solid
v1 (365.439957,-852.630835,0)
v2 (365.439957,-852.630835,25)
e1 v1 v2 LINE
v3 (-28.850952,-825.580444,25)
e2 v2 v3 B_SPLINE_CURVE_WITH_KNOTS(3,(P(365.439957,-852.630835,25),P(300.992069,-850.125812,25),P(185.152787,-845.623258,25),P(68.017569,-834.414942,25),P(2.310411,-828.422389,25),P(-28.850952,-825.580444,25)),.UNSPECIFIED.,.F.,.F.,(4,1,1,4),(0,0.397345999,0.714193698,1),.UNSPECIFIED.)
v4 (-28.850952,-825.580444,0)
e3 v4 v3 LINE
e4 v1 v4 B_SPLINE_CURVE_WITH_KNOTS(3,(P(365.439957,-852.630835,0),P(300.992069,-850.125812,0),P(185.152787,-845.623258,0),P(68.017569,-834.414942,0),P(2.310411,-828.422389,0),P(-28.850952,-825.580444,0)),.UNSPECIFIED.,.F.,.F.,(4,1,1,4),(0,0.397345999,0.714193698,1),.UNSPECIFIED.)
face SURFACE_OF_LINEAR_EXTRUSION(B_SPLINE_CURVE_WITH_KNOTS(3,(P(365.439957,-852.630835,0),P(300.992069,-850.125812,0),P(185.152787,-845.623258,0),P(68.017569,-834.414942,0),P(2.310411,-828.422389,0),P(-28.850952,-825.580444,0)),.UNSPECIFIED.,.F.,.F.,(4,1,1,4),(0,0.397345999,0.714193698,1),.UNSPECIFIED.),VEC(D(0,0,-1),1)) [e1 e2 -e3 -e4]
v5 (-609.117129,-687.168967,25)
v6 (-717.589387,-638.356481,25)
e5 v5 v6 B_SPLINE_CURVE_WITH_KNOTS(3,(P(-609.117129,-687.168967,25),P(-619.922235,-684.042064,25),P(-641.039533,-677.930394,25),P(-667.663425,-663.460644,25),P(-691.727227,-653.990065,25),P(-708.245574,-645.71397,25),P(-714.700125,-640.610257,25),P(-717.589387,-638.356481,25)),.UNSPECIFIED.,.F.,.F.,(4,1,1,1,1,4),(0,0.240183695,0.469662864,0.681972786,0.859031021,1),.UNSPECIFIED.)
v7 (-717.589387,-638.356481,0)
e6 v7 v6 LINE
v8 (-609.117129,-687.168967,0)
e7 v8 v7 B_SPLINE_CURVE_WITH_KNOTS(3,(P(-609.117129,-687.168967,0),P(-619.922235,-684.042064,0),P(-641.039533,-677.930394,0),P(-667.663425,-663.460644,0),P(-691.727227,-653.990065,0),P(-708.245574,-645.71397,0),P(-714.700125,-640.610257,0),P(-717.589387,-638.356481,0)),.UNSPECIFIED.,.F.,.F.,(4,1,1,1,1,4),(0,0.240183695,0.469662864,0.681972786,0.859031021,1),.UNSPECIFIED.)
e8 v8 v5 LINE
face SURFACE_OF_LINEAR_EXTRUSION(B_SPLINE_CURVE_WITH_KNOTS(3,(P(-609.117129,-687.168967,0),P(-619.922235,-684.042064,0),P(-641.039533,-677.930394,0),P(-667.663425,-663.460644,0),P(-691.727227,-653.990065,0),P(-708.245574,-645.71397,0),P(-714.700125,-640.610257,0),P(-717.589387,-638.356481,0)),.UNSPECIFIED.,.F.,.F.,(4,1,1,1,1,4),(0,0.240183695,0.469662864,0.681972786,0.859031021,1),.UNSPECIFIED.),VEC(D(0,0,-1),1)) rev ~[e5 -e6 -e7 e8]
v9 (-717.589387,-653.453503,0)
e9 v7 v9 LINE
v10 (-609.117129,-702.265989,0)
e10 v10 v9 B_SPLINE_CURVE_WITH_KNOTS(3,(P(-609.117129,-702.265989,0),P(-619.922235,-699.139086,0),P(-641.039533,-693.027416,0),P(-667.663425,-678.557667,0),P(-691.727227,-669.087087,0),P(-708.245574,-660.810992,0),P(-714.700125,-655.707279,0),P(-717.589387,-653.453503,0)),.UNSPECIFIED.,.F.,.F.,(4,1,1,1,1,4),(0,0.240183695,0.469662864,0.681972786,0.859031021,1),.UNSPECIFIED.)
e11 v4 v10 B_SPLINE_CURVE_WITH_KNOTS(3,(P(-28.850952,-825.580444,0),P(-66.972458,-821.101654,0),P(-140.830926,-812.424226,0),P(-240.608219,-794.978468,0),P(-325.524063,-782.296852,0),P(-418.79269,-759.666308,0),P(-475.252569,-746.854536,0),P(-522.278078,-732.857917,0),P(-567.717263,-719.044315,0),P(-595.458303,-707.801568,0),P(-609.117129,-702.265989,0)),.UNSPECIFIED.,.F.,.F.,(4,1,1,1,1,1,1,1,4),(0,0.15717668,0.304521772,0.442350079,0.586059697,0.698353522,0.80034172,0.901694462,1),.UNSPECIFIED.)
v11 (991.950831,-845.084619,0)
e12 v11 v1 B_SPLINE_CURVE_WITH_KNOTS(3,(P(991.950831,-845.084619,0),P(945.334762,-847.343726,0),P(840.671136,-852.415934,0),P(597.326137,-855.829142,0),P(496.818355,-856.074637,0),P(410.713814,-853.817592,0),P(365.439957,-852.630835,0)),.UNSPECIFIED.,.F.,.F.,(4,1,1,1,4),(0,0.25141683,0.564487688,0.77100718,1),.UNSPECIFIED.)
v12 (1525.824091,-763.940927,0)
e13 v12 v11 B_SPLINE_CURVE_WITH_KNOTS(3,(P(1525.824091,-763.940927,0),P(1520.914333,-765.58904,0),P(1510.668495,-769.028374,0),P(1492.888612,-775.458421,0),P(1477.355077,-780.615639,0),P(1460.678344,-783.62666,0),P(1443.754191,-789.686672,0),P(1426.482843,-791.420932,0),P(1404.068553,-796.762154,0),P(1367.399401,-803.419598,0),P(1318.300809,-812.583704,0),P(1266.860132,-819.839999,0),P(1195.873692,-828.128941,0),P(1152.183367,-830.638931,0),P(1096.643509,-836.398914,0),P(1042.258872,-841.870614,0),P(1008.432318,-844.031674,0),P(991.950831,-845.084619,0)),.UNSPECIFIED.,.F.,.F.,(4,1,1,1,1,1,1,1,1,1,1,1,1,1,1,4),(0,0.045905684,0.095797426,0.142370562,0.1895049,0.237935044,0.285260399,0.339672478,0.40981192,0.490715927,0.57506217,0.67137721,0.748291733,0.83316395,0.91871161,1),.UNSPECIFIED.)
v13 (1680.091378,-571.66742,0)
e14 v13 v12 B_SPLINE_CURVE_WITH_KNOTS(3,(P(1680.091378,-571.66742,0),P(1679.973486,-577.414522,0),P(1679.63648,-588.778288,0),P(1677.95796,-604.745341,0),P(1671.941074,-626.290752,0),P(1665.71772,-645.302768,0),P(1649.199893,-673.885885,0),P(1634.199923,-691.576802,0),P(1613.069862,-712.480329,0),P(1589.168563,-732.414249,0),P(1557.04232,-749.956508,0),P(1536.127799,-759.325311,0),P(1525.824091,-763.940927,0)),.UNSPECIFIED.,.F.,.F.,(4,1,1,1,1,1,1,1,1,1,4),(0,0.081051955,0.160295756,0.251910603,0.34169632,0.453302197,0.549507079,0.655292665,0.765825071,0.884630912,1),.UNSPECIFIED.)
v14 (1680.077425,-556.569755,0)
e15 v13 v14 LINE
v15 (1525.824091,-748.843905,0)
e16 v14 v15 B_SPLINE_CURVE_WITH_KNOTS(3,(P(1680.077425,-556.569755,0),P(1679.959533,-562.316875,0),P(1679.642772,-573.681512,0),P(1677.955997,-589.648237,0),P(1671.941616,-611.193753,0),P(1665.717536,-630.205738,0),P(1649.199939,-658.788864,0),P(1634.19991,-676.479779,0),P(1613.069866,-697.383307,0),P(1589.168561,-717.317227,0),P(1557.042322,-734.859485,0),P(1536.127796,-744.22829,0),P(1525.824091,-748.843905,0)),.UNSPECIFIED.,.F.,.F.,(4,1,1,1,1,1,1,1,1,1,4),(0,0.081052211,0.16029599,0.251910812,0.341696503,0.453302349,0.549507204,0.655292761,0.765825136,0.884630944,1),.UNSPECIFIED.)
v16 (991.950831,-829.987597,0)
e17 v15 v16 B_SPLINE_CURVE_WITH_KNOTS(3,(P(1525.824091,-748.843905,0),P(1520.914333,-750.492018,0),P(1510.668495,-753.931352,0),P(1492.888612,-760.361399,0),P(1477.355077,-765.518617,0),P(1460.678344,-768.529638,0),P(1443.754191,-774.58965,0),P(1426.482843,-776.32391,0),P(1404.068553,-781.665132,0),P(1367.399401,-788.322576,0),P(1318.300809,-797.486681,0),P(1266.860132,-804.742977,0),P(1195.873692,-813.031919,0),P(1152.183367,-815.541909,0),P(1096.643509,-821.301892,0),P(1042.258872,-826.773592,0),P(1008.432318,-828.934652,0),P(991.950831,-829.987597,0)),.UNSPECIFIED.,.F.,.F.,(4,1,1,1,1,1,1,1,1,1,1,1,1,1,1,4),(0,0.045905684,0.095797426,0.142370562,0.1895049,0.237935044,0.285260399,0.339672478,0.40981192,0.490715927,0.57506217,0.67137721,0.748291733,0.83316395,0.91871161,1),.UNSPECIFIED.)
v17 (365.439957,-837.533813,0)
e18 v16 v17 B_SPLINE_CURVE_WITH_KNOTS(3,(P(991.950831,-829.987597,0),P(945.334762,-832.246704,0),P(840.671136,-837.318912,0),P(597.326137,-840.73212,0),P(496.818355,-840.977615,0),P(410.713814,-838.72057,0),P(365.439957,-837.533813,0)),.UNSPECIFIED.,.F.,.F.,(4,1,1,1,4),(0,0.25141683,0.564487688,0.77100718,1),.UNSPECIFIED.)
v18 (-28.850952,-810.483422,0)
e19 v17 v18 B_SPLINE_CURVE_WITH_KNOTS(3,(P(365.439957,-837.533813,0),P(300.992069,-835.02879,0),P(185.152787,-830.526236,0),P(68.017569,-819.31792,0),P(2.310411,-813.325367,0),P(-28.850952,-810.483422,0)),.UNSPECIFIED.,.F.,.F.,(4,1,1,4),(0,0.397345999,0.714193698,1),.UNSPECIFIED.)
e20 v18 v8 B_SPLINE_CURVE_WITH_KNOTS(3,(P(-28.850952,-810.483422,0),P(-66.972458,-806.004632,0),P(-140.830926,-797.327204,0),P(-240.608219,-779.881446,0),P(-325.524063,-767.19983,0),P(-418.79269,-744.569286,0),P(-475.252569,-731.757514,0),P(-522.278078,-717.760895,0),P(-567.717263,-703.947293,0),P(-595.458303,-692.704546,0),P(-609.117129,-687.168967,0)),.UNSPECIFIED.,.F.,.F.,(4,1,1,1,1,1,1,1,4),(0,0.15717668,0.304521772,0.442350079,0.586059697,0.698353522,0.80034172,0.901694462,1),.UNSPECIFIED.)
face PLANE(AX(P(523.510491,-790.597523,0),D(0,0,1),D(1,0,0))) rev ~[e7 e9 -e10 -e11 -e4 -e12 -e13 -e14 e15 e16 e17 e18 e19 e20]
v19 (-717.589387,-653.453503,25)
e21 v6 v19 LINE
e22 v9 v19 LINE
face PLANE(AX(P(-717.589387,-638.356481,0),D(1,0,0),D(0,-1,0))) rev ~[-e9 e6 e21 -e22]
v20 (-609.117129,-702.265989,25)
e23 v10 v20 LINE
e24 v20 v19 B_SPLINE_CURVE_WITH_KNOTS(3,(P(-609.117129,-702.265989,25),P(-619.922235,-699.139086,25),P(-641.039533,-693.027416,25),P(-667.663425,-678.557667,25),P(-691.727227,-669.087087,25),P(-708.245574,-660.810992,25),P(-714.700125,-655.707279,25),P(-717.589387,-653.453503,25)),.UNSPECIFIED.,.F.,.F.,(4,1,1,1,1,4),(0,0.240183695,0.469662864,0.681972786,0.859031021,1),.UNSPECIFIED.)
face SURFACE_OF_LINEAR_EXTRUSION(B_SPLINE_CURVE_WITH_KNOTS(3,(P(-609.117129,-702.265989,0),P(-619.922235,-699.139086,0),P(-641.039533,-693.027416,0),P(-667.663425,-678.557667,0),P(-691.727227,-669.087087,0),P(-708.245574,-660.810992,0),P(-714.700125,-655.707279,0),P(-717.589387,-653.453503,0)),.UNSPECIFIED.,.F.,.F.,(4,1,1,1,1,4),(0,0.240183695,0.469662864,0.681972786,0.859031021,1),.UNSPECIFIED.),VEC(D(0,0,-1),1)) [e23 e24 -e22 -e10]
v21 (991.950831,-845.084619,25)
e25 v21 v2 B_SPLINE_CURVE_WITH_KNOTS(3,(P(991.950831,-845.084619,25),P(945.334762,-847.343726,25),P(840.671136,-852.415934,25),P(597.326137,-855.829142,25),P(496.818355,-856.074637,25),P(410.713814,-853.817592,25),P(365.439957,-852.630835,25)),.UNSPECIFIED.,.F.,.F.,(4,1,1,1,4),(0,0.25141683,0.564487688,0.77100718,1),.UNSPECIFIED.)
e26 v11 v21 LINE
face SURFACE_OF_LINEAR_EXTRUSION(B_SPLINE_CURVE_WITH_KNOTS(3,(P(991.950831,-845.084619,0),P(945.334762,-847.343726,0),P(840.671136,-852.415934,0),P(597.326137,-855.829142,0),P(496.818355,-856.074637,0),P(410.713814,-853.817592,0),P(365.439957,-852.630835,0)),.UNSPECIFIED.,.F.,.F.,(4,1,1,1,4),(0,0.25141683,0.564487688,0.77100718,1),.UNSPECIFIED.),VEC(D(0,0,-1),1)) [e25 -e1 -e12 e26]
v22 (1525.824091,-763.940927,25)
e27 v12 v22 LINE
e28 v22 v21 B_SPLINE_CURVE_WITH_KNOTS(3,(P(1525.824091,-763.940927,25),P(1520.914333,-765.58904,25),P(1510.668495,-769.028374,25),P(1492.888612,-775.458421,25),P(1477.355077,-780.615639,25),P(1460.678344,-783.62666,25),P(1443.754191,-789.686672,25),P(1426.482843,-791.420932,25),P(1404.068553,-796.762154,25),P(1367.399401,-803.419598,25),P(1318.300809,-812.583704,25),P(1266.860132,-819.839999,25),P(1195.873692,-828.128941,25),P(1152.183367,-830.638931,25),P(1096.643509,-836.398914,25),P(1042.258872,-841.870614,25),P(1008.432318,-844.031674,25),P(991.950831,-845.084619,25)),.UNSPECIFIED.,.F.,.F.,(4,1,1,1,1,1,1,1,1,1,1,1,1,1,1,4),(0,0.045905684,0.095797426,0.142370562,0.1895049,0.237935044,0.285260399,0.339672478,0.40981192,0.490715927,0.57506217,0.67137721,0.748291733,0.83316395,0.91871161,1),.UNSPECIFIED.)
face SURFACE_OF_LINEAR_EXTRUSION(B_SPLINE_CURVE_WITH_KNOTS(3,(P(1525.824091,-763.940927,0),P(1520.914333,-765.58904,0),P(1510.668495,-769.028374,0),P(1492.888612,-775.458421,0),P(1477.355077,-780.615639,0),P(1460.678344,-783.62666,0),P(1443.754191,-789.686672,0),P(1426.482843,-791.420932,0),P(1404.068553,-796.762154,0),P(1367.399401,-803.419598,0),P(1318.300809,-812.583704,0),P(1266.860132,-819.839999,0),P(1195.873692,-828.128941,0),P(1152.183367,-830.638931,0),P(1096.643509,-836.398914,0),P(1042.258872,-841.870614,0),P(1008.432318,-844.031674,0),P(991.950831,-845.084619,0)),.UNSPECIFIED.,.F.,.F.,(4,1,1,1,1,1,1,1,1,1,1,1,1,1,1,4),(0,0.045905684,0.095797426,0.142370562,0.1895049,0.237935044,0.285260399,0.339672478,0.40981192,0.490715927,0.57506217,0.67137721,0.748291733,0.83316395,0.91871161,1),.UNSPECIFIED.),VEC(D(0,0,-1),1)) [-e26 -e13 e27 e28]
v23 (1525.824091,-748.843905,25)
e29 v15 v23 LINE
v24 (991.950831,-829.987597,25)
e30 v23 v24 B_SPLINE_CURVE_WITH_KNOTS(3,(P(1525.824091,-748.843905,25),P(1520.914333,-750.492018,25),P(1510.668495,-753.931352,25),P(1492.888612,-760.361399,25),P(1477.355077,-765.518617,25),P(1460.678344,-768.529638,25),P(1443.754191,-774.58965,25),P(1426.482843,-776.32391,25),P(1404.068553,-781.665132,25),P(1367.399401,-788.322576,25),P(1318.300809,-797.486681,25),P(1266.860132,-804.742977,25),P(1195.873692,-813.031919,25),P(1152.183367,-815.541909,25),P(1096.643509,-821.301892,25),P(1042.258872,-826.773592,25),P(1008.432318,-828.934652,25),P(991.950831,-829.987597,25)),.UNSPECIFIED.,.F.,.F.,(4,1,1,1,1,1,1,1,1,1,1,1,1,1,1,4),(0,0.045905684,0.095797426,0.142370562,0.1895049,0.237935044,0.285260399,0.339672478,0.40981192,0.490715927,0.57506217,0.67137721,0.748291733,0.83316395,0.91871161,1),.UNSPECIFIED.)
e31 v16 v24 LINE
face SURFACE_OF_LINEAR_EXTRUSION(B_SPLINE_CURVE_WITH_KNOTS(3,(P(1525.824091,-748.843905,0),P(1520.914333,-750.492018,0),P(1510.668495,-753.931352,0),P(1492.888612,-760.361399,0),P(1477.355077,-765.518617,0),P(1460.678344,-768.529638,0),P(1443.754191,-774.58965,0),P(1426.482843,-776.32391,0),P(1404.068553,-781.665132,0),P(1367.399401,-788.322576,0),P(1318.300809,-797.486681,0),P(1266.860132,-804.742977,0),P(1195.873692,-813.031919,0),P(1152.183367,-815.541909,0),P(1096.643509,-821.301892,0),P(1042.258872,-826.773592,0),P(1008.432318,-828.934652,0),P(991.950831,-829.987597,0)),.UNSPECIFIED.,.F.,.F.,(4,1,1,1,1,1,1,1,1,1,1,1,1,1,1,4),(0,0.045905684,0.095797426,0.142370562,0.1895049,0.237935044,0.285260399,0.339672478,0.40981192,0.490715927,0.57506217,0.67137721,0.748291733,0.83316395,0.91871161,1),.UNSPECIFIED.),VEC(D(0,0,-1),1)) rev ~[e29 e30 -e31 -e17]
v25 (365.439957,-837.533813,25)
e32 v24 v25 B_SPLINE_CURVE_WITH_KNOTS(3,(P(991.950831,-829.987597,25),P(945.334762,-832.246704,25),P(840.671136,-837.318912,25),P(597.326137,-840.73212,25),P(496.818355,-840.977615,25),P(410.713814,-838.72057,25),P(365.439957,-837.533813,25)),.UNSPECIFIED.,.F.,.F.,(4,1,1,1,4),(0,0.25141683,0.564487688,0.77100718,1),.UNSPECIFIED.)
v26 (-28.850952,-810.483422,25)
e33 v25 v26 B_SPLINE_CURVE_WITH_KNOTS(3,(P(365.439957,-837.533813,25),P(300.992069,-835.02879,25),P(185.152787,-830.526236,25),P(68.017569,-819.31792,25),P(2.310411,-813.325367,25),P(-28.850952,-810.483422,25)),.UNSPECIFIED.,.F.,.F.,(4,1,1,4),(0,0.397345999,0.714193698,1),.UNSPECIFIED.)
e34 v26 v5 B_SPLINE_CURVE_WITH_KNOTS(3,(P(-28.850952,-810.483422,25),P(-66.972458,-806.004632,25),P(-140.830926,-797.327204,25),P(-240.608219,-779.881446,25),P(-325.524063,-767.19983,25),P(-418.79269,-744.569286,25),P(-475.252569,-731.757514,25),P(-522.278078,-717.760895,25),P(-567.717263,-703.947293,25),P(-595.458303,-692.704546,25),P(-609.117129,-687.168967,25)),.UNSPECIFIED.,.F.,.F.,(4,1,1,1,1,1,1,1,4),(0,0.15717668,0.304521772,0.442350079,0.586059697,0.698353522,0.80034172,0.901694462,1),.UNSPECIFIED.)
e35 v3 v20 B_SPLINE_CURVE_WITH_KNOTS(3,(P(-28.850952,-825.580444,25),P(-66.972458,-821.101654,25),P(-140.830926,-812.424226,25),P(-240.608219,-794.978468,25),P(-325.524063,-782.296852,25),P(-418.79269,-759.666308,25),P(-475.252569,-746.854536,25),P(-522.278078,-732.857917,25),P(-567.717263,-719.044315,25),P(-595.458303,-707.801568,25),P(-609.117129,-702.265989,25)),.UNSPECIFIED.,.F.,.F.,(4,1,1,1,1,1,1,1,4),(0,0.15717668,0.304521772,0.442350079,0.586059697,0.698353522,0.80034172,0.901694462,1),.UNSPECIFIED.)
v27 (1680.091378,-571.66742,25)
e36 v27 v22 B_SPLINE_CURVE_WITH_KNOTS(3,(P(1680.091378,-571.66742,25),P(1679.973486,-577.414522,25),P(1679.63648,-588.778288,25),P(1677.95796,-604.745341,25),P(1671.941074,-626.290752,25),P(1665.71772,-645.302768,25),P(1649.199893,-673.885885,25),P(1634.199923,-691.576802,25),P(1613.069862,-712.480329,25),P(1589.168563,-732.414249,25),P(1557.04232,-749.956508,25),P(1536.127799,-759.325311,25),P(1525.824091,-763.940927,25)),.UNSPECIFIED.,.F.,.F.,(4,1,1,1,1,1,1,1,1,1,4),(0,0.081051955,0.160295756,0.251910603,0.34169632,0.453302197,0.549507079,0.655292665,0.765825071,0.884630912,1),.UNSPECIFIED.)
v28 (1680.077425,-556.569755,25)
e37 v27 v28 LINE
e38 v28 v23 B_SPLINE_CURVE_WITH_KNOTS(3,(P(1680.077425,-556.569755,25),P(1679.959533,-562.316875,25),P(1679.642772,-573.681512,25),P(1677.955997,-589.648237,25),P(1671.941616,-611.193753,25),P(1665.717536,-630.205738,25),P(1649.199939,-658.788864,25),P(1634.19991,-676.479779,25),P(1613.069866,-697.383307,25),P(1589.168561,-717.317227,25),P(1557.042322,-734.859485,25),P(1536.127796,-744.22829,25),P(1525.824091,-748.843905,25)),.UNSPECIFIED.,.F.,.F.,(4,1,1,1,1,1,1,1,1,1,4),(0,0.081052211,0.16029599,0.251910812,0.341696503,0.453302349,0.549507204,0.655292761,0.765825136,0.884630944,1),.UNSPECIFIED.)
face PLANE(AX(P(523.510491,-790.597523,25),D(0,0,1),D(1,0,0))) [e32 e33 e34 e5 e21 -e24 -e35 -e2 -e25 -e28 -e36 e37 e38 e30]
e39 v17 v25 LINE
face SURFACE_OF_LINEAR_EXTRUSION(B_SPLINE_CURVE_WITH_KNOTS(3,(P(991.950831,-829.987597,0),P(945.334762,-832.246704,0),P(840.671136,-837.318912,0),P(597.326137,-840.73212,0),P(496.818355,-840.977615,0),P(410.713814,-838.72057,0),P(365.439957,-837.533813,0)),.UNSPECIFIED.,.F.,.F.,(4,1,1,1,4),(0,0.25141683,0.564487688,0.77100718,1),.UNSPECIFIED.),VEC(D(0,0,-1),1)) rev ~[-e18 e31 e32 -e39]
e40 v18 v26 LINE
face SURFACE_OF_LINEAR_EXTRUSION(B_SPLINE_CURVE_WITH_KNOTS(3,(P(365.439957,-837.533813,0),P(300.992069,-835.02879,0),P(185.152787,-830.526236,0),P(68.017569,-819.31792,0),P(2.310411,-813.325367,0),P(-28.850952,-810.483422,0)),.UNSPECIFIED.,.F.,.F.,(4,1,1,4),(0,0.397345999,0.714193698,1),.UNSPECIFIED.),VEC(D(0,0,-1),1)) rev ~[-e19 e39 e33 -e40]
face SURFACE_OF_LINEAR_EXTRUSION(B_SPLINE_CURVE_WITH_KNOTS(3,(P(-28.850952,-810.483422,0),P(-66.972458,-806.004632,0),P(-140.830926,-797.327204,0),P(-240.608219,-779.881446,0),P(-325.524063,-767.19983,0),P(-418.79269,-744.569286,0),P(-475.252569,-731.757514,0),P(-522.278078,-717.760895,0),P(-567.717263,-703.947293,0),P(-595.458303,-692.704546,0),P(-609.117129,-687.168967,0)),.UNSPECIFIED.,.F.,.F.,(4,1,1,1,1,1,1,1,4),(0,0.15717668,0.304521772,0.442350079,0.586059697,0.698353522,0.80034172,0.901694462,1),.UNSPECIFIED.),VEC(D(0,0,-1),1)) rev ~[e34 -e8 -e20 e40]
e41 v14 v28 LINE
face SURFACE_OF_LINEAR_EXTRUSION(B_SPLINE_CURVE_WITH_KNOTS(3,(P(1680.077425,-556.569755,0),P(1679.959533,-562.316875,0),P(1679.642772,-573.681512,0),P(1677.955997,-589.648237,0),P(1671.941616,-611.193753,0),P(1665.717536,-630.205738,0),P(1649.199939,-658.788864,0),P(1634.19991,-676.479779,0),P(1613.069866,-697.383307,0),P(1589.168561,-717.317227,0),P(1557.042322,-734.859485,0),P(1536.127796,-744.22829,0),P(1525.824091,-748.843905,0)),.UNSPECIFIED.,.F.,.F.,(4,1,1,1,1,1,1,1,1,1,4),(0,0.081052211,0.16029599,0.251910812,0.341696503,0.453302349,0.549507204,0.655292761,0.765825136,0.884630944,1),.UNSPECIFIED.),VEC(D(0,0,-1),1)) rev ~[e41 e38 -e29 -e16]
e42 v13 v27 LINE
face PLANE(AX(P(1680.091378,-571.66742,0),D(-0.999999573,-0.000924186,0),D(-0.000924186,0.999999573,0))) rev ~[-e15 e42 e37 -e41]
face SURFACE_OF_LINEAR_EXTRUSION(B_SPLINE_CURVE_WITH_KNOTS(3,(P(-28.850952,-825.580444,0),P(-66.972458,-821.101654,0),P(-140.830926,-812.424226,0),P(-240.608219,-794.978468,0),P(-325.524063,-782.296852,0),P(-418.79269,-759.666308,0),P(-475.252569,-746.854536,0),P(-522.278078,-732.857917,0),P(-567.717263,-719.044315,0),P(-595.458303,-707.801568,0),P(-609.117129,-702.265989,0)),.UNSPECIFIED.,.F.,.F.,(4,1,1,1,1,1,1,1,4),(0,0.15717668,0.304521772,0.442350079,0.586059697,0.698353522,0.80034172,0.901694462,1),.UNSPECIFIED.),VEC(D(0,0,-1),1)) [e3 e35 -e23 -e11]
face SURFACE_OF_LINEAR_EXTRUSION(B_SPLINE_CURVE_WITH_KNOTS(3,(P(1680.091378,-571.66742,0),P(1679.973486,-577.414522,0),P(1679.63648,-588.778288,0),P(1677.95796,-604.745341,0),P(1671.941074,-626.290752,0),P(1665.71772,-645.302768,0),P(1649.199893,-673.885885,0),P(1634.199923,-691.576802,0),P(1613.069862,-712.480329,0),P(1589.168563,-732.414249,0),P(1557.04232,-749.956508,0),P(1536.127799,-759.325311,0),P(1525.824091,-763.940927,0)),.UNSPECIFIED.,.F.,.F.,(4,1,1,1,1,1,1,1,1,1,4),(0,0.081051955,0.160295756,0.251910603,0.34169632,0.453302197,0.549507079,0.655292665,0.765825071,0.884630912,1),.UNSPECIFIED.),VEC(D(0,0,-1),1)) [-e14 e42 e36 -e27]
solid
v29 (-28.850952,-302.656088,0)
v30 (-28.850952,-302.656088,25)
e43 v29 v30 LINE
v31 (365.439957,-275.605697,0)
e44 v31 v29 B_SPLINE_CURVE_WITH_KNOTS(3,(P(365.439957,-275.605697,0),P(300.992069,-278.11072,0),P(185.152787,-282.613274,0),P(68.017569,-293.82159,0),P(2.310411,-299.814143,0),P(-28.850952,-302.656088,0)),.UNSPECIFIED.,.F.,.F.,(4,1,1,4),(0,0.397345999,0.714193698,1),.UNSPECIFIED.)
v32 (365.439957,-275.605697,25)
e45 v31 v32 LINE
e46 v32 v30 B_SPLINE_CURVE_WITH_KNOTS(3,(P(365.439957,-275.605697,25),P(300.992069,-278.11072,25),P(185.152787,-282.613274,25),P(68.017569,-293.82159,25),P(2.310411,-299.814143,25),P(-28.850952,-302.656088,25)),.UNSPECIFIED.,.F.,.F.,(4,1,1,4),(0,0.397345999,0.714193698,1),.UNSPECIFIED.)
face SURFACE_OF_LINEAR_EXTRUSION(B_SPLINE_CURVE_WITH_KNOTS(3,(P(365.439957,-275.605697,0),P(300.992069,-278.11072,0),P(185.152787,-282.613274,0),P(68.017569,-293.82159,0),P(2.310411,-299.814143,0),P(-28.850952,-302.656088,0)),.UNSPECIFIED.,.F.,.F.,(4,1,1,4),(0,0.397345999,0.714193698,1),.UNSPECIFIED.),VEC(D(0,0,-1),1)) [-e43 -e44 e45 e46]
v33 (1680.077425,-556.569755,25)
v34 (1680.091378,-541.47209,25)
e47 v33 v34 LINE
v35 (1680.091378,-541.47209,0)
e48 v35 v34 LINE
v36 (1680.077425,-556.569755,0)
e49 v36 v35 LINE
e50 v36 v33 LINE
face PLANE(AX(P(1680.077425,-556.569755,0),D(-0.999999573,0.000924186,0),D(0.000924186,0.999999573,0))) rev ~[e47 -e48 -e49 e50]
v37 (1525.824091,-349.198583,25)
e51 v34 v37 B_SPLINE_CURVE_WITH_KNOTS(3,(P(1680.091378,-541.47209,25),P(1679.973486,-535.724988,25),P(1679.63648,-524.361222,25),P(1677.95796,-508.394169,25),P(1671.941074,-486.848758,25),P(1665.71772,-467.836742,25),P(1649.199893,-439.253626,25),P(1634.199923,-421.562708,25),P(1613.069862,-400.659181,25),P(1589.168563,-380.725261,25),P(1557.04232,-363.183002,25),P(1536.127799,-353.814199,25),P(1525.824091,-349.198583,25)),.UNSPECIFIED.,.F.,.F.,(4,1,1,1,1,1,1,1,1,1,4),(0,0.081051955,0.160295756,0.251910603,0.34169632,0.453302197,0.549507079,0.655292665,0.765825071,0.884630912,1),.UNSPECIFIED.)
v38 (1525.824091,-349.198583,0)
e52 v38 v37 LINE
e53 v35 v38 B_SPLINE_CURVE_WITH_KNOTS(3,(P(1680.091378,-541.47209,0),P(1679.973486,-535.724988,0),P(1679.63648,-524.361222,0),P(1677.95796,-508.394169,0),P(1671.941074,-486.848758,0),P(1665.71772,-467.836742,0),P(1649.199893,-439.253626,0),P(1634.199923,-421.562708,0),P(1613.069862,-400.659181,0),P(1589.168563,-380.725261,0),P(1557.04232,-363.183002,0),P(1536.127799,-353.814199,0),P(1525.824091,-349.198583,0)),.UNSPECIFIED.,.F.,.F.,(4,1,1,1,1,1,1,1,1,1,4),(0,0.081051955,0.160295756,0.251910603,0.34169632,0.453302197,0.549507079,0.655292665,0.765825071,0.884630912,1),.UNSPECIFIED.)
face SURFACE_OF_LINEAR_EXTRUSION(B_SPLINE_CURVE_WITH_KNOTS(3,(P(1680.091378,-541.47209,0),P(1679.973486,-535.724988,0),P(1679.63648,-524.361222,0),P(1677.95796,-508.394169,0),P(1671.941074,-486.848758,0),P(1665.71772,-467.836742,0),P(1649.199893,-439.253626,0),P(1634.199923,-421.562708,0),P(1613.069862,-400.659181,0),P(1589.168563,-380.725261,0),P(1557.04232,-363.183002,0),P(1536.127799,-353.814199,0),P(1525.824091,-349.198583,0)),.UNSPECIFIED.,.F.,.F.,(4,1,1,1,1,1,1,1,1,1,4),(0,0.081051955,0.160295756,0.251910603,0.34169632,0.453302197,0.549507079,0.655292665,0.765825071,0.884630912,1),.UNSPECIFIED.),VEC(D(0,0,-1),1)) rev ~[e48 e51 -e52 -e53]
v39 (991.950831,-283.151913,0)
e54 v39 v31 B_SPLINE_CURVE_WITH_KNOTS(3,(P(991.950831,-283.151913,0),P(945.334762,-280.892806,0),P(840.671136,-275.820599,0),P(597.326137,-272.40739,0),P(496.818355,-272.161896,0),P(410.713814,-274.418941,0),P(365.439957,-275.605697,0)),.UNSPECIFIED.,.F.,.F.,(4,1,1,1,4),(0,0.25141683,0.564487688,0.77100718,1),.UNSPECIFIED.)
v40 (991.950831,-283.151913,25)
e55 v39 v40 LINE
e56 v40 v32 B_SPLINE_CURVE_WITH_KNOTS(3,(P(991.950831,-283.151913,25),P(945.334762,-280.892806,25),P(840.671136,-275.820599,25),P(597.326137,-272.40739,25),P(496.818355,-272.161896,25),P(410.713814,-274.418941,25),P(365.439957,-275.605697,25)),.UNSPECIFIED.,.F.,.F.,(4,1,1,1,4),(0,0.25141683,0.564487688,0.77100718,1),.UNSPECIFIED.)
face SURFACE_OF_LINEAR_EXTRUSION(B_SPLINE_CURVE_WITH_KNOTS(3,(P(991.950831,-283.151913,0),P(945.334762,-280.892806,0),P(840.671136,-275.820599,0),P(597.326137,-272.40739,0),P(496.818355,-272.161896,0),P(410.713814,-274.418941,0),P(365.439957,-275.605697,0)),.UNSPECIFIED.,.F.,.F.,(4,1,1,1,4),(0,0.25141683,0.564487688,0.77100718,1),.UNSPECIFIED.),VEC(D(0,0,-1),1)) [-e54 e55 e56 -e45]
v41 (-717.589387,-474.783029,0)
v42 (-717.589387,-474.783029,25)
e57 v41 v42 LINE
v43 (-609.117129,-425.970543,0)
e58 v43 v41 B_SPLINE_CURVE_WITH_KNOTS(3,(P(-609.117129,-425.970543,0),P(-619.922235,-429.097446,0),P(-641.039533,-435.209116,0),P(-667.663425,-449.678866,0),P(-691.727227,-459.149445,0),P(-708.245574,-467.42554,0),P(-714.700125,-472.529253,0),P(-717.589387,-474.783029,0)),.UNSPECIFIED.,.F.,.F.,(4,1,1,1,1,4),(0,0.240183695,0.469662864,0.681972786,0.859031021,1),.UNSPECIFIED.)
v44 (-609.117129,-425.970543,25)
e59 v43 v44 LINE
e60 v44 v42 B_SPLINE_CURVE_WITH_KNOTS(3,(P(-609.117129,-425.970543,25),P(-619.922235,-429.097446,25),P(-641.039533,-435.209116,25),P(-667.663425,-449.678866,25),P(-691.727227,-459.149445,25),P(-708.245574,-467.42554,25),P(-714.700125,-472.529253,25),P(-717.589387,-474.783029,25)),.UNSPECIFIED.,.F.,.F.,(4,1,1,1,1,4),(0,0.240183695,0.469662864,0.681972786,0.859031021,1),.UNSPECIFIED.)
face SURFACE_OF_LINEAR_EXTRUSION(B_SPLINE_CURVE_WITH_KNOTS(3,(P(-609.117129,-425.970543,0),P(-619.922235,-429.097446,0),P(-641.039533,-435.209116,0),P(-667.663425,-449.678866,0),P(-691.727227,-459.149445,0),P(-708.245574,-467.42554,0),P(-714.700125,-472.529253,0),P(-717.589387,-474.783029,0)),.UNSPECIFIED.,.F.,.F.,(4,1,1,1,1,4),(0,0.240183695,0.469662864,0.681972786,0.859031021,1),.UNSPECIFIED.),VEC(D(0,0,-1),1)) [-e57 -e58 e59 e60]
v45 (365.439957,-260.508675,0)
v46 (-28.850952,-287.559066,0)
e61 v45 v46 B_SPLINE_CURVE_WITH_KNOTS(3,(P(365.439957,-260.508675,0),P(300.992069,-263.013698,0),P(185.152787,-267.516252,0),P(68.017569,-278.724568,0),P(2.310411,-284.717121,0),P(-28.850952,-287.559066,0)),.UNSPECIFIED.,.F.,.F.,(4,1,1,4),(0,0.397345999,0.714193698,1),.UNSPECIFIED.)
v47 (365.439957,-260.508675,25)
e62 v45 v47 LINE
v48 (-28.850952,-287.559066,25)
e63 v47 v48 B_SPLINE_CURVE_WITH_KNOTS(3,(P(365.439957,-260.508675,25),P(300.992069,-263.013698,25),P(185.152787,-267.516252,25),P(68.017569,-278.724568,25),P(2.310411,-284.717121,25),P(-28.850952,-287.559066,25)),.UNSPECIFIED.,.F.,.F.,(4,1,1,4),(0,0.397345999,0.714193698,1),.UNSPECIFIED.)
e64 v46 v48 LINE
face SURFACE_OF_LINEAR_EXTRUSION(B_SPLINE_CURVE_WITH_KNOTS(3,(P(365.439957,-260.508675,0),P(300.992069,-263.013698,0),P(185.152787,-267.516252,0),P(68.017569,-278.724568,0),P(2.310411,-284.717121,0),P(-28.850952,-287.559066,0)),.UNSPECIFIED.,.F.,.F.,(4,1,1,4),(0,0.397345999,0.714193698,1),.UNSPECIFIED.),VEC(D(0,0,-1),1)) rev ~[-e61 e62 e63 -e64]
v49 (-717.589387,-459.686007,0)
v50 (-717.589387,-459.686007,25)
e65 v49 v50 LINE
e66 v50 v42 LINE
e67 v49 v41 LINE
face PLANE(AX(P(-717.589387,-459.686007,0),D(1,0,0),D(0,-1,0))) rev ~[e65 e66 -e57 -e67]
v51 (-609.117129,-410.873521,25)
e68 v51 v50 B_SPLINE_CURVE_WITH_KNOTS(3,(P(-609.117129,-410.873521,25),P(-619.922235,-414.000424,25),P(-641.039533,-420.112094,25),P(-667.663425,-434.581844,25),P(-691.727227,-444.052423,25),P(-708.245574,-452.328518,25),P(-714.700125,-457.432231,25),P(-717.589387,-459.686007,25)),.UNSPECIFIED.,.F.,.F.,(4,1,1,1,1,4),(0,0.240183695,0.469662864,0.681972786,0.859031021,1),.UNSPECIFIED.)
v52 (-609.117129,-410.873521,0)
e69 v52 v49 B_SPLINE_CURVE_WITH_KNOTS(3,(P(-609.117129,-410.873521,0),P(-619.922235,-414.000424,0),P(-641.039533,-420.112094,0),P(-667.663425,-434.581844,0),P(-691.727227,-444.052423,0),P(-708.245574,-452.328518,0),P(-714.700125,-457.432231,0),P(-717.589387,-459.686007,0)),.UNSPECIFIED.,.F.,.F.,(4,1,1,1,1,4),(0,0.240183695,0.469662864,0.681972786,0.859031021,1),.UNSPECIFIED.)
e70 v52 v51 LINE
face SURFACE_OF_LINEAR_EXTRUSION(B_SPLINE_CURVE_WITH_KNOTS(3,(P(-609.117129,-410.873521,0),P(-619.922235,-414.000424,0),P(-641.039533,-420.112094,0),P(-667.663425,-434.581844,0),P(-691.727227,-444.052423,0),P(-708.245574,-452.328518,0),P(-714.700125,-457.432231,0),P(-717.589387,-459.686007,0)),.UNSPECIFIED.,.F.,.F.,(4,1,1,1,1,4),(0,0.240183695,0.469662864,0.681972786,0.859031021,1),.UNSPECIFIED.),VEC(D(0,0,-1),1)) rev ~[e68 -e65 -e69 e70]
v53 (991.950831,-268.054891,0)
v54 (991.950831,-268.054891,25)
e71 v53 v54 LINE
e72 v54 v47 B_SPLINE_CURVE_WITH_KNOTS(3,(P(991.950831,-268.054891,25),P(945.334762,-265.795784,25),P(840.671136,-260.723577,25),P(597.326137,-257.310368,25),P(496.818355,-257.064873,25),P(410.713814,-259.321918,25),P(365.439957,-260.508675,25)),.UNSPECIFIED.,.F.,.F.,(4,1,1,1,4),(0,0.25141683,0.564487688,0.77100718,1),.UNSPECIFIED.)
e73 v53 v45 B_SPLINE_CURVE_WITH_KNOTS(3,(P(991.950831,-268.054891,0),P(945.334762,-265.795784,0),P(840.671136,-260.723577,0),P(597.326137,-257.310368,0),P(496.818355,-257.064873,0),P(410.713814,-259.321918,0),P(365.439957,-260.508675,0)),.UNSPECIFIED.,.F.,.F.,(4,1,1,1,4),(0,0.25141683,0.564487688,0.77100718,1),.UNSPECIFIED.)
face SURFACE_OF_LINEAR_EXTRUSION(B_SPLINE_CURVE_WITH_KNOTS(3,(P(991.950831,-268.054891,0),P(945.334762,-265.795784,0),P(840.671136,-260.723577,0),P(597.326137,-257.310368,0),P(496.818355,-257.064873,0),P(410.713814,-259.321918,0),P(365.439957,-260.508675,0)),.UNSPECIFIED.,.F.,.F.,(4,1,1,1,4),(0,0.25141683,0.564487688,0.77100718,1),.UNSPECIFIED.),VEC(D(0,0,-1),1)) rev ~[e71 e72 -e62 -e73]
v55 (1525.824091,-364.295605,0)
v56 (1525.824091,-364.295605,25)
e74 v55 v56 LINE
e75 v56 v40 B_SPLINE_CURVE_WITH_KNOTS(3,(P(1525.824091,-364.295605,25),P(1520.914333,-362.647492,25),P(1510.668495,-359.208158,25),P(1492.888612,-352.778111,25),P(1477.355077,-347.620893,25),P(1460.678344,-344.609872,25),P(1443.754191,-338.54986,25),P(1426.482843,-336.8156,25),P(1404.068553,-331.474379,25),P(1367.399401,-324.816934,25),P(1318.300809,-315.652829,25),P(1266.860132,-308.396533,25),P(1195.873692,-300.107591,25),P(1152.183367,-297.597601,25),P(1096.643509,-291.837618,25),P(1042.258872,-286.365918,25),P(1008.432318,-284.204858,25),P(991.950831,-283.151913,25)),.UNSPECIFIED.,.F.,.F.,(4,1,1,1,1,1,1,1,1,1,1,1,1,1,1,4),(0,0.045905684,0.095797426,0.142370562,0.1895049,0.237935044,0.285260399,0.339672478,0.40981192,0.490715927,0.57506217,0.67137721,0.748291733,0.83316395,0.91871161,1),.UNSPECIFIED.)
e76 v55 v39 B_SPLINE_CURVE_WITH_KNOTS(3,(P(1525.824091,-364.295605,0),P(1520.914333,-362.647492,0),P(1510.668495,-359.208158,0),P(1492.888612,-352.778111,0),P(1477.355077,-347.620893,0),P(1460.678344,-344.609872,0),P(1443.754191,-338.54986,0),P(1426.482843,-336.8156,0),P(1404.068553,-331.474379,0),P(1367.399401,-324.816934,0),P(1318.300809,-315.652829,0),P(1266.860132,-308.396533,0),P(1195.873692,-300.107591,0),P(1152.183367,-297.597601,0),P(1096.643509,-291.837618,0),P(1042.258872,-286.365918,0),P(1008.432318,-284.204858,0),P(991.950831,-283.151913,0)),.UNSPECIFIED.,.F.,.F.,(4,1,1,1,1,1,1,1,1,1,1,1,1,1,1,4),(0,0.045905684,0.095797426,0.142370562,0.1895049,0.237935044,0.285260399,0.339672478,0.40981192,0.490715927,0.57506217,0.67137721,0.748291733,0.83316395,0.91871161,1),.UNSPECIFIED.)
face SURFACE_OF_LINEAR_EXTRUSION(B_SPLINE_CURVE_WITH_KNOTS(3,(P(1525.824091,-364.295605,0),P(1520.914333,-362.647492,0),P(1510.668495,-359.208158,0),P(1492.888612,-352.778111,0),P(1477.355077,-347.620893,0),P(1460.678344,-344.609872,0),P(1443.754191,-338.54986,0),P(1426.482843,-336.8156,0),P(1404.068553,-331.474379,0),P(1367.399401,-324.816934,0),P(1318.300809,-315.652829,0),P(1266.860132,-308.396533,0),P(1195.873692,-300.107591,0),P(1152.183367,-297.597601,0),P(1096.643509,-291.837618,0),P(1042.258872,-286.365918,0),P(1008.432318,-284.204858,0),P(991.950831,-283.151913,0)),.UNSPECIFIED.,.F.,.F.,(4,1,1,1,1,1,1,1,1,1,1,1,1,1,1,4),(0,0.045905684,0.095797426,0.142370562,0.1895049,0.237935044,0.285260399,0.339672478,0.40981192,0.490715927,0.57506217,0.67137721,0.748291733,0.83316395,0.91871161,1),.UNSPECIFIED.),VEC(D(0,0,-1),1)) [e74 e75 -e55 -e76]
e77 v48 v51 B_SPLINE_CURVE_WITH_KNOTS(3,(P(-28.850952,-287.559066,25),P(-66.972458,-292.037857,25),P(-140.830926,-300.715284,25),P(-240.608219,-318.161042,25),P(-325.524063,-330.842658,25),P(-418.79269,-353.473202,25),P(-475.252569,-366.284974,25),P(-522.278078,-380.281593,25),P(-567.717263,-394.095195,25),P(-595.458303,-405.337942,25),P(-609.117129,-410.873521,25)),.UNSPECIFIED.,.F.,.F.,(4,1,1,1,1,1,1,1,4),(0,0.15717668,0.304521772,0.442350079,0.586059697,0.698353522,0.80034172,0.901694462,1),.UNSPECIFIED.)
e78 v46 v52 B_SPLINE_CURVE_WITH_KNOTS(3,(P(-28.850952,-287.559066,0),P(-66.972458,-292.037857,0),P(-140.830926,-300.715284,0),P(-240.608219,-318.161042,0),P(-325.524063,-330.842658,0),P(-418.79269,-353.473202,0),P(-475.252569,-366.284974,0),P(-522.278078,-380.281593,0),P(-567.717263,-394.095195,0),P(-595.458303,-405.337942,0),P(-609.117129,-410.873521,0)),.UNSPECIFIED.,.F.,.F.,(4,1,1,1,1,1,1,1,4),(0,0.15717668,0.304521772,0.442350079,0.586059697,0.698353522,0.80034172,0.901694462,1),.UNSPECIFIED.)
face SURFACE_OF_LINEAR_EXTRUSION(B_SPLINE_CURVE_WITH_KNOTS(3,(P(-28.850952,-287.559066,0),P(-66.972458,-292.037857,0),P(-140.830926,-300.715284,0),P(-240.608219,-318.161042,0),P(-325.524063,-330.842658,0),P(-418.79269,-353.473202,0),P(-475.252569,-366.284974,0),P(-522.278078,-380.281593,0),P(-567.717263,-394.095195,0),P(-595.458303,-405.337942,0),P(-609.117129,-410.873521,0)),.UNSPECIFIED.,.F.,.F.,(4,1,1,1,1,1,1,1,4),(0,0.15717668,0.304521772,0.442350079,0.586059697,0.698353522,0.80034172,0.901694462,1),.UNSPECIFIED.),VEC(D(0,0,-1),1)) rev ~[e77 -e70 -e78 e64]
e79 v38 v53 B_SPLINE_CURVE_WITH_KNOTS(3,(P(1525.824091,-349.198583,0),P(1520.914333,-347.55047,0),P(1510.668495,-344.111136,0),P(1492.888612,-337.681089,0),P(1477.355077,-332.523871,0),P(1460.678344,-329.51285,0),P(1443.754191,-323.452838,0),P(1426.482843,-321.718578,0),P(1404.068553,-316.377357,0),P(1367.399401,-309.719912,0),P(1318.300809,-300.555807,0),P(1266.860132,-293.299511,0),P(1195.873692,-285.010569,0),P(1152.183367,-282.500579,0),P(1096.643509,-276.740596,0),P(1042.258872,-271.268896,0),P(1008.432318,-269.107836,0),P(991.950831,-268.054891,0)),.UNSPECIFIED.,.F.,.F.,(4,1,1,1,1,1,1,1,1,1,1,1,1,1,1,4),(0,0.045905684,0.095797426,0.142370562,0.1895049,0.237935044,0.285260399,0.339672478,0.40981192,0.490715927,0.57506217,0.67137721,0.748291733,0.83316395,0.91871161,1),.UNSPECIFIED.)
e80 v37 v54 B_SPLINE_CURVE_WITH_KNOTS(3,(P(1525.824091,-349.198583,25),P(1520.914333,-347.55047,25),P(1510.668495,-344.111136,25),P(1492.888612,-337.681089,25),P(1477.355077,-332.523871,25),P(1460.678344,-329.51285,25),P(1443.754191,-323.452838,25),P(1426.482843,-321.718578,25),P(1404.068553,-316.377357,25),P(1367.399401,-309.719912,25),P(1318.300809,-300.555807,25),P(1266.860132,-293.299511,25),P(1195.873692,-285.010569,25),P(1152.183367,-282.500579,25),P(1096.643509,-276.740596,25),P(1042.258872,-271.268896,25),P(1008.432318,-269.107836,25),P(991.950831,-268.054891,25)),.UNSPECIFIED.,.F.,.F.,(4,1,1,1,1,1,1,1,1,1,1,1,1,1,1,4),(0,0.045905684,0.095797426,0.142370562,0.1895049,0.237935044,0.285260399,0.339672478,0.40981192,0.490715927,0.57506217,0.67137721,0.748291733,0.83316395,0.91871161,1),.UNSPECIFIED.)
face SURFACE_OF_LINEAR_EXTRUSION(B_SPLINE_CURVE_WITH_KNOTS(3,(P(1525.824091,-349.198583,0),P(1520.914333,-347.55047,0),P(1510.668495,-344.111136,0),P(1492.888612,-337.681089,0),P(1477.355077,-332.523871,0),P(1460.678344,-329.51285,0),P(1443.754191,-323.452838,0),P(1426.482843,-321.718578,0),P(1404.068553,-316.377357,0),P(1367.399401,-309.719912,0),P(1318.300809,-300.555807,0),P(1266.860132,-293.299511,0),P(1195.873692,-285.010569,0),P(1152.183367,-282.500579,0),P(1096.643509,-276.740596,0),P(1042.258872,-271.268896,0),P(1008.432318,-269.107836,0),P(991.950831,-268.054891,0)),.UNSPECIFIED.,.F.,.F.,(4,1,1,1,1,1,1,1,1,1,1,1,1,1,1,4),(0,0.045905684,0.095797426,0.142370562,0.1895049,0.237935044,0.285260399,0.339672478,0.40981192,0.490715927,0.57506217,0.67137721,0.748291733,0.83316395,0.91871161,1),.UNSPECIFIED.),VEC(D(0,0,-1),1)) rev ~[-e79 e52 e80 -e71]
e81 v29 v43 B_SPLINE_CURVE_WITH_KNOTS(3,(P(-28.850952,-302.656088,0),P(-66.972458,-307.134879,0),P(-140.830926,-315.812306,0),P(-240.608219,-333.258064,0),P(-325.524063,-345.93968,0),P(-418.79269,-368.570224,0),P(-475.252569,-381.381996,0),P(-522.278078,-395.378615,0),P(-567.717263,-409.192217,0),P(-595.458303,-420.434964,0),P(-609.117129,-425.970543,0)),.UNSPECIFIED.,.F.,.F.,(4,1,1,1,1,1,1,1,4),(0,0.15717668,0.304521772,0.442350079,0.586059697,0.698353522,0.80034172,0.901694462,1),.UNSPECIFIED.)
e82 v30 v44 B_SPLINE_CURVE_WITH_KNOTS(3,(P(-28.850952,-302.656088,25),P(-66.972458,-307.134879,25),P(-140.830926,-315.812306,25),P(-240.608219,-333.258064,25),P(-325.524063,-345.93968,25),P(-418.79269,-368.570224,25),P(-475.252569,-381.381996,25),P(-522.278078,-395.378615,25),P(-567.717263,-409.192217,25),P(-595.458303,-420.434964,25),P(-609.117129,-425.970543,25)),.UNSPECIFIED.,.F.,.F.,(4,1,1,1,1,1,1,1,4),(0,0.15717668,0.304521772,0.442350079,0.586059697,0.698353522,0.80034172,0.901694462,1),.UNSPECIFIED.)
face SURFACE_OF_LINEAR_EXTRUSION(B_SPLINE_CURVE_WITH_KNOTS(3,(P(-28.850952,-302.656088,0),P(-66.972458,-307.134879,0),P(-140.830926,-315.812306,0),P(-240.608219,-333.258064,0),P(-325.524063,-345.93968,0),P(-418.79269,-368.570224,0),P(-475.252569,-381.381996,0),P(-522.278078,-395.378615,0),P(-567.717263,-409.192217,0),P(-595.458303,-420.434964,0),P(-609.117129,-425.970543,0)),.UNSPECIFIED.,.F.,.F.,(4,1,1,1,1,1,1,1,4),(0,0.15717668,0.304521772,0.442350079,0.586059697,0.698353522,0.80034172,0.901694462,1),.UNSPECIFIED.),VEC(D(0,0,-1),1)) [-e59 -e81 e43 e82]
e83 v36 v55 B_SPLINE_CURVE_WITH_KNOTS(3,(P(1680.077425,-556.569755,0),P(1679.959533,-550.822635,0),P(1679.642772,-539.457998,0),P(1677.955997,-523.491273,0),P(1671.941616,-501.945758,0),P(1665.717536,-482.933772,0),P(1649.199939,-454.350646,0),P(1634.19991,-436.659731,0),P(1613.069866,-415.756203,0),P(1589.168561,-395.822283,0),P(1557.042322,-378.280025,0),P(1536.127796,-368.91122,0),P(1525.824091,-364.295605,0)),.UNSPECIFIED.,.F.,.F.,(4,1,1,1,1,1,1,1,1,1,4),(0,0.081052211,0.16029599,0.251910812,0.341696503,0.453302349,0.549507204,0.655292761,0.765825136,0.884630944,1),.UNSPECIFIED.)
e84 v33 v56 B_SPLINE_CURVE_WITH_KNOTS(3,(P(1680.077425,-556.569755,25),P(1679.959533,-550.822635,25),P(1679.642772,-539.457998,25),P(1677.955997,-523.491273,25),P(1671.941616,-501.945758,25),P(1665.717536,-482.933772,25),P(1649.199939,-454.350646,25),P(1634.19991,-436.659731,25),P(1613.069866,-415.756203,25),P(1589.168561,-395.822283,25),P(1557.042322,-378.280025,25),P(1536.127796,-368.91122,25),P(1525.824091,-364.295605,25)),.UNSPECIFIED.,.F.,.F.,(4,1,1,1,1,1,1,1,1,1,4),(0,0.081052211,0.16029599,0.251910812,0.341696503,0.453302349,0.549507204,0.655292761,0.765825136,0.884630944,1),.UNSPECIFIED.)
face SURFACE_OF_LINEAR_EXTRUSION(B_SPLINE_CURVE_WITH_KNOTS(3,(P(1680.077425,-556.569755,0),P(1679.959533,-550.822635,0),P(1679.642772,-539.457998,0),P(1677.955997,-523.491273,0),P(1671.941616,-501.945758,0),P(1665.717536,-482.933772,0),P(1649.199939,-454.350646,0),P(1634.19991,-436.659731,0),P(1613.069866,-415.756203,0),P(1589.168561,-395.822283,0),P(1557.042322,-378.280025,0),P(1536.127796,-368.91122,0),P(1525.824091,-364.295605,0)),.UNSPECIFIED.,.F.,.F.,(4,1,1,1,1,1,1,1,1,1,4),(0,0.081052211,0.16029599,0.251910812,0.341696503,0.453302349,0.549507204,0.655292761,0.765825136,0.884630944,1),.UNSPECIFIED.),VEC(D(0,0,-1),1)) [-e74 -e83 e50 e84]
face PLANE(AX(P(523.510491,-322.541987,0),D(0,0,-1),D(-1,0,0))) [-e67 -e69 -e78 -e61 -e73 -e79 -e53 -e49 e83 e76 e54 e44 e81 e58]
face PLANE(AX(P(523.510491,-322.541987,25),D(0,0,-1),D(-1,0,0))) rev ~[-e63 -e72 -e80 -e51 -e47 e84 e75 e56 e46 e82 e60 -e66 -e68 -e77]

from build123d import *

# Parameters (mm, degrees)
F1_DEPTH = 25


with BuildPart() as f1:
    # F0 (on Top) → F1 (new body)
    with BuildSketch(Plane.XY):
        with BuildLine():
            Line((1680.0913779151, -571.6674201901), (1680.0774248615, -556.5697550774))
            add(Edge.make_bspline(
                [(1680.0774248615, -556.5697550774), (1679.959532706, -562.316875416), (1679.6427719948, -573.6815119363), (1677.9559973128, -589.6482367852), (1671.9416158112, -611.1937525038), (1665.7175358203, -630.2057384714), (1649.1999387753, -658.7888643928), (1634.19991008, -676.479779451), (1613.0698656847, -697.3833068317), (1589.168561335, -717.3172273642), (1557.042322142, -734.859485432), (1536.1277959476, -744.2282900222), (1525.8240908453, -748.8439046694)],
                knots=[0, 0, 0, 0, 0.0810522115, 0.1602959901, 0.2519108121, 0.3416965034, 0.4533023492, 0.5495072043, 0.6552927613, 0.7658251362, 0.884630944, 1, 1, 1, 1], degree=3))
            add(Edge.make_bspline(
                [(1525.8240908453, -748.8439046694), (1520.9143328422, -750.4920177967), (1510.6684952452, -753.9313521657), (1492.8886117624, -760.36139908), (1477.3550772596, -765.5186171491), (1460.6783442632, -768.5296377887), (1443.7541912337, -774.5896497238), (1426.4828431131, -776.3239099017), (1404.0685526248, -781.6651315049), (1367.3994007551, -788.3225763114), (1318.300808924, -797.4866814611), (1266.860132466, -804.7429770618), (1195.8736917115, -813.0319192887), (1152.1833674352, -815.541908763), (1096.6435090665, -821.3018918652), (1042.2588720968, -826.7735922357), (1008.4323175903, -828.9346523367), (991.9508308241, -829.9875968053)],
                knots=[0, 0, 0, 0, 0.0459056837, 0.0957974262, 0.1423705621, 0.1895049005, 0.2379350442, 0.285260399, 0.3396724785, 0.4098119199, 0.4907159265, 0.5750621704, 0.6713772105, 0.7482917328, 0.8331639502, 0.9187116102, 1, 1, 1, 1], degree=3))
            add(Edge.make_bspline(
                [(991.9508308241, -829.9875968053), (945.3347618176, -832.2467041737), (840.6711361721, -837.318911525), (597.3261368323, -840.7321202495), (496.8183550639, -840.977614608), (410.7138135756, -838.7205696222), (365.4399573872, -837.5338130547)],
                knots=[0, 0, 0, 0, 0.2514168302, 0.5644876875, 0.7710071796, 1, 1, 1, 1], degree=3))
            add(Edge.make_bspline(
                [(365.4399573872, -837.5338130547), (300.9920694953, -835.0287898915), (185.1527872494, -830.5262360496), (68.0175690605, -819.317919736), (2.3104109186, -813.3253669371), (-28.8509517839, -810.4834222151)],
                knots=[0, 0, 0, 0, 0.3973459993, 0.7141936978, 1, 1, 1, 1], degree=3))
            add(Edge.make_bspline(
                [(-28.8509517839, -810.4834222151), (-66.9724583954, -806.0046315132), (-140.8309261351, -797.3272037834), (-240.6082186036, -779.8814461057), (-325.5240634953, -767.1998298001), (-418.7926896131, -744.5692856785), (-475.2525690807, -731.7575140909), (-522.2780776943, -717.7608947511), (-567.7172627648, -703.9472926888), (-595.4583026837, -692.7045463144), (-609.1171294382, -687.1689670636)],
                knots=[0, 0, 0, 0, 0.15717668, 0.3045217721, 0.4423500794, 0.5860596972, 0.6983535216, 0.8003417202, 0.901694462, 1, 1, 1, 1], degree=3))
            add(Edge.make_bspline(
                [(-609.1171294382, -687.1689670636), (-619.9222350776, -684.0420639821), (-641.0395332321, -677.9303940328), (-667.6634247297, -663.4606444561), (-691.7272271694, -653.9900653187), (-708.2455744872, -645.7139702192), (-714.7001253353, -640.6102572147), (-717.5893870815, -638.3564808323)],
                knots=[0, 0, 0, 0, 0.2401836949, 0.4696628644, 0.6819727863, 0.8590310206, 1, 1, 1, 1], degree=3))
            Line((-717.5893870815, -638.3564808323), (-717.5893870815, -653.4535028888))
            add(Edge.make_bspline(
                [(-609.1171294382, -702.2659891202), (-619.9222350776, -699.1390860387), (-641.0395332321, -693.0274160894), (-667.6634247297, -678.5576665127), (-691.7272271694, -669.0870873753), (-708.2455744872, -660.8109922758), (-714.7001253353, -655.7072792713), (-717.5893870815, -653.4535028888)],
                knots=[0, 0, 0, 0, 0.2401836949, 0.4696628644, 0.6819727863, 0.8590310206, 1, 1, 1, 1], degree=3))
            add(Edge.make_bspline(
                [(-28.8509517839, -825.5804442717), (-66.9724583954, -821.1016535698), (-140.8309261351, -812.42422584), (-240.6082186036, -794.9784681623), (-325.5240634953, -782.2968518567), (-418.7926896131, -759.666307735), (-475.2525690807, -746.8545361475), (-522.2780776943, -732.8579168077), (-567.7172627648, -719.0443147453), (-595.4583026837, -707.801568371), (-609.1171294382, -702.2659891202)],
                knots=[0, 0, 0, 0, 0.15717668, 0.3045217721, 0.4423500794, 0.5860596972, 0.6983535216, 0.8003417202, 0.901694462, 1, 1, 1, 1], degree=3))
            add(Edge.make_bspline(
                [(365.4399573872, -852.6308351113), (300.9920694953, -850.1258119481), (185.1527872494, -845.6232581062), (68.0175690605, -834.4149417926), (2.3104109186, -828.4223889937), (-28.8509517839, -825.5804442717)],
                knots=[0, 0, 0, 0, 0.3973459993, 0.7141936978, 1, 1, 1, 1], degree=3))
            add(Edge.make_bspline(
                [(991.9508308241, -845.0846188618), (945.3347618176, -847.3437262303), (840.6711361721, -852.4159335816), (597.3261368323, -855.8291423061), (496.8183550639, -856.0746366646), (410.7138135756, -853.8175916788), (365.4399573872, -852.6308351113)],
                knots=[0, 0, 0, 0, 0.2514168302, 0.5644876875, 0.7710071796, 1, 1, 1, 1], degree=3))
            add(Edge.make_bspline(
                [(1525.8240908453, -763.940926726), (1520.9143328422, -765.5890398533), (1510.6684952452, -769.0283742223), (1492.8886117624, -775.4584211365), (1477.3550772596, -780.6156392057), (1460.6783442632, -783.6266598453), (1443.7541912337, -789.6866717803), (1426.4828431131, -791.4209319583), (1404.0685526248, -796.7621535615), (1367.3994007551, -803.4195983679), (1318.300808924, -812.5837035177), (1266.860132466, -819.8399991184), (1195.8736917115, -828.1289413453), (1152.1833674352, -830.6389308195), (1096.6435090665, -836.3989139217), (1042.2588720968, -841.8706142922), (1008.4323175903, -844.0316743933), (991.9508308241, -845.0846188618)],
                knots=[0, 0, 0, 0, 0.0459056837, 0.0957974262, 0.1423705621, 0.1895049005, 0.2379350442, 0.285260399, 0.3396724785, 0.4098119199, 0.4907159265, 0.5750621704, 0.6713772105, 0.7482917328, 0.8331639502, 0.9187116102, 1, 1, 1, 1], degree=3))
            add(Edge.make_bspline(
                [(1680.0913779151, -571.6674201901), (1679.9734861325, -577.4145223437), (1679.6364798397, -588.7782878472), (1677.9579597004, -604.7453411506), (1671.9410743397, -626.2907518495), (1665.7177198175, -645.3027682447), (1649.1998933253, -673.8858845461), (1634.1999227649, -691.5768020298), (1613.0698619015, -712.4803287716), (1589.1685627804, -732.4142493119), (1557.0423204483, -749.9565080936), (1536.1277988232, -759.3253107907), (1525.8240908453, -763.940926726)],
                knots=[0, 0, 0, 0, 0.081051955, 0.1602957558, 0.2519106034, 0.3416963197, 0.4533021966, 0.5495070786, 0.6552926651, 0.7658250708, 0.8846309118, 1, 1, 1, 1], degree=3))
        make_face()
    extrude(amount=F1_DEPTH)


with BuildPart() as f1b:
    # F0 (on Top) → F1, piece 2 (new body)
    with BuildSketch(Plane.XY):
        with BuildLine():
            add(Edge.make_bspline(
                [(1680.0774248615, -556.5697550774), (1679.959532706, -550.8226347387), (1679.6427719948, -539.4579982185), (1677.9559973128, -523.4912733695), (1671.9416158112, -501.945757651), (1665.7175358203, -482.9337716834), (1649.1999387753, -454.3506457619), (1634.19991008, -436.6597307037), (1613.0698656847, -415.7562033231), (1589.168561335, -395.8222827905), (1557.042322142, -378.2800247227), (1536.1277959476, -368.9112201325), (1525.8240908453, -364.2956054853)],
                knots=[0, 0, 0, 0, 0.0810522115, 0.1602959901, 0.2519108121, 0.3416965034, 0.4533023492, 0.5495072043, 0.6552927613, 0.7658251362, 0.884630944, 1, 1, 1, 1], degree=3))
            Line((1680.0774248615, -556.5697550774), (1680.0913779151, -541.4720899647))
            add(Edge.make_bspline(
                [(1680.0913779151, -541.4720899647), (1679.9734861325, -535.7249878111), (1679.6364798397, -524.3612223075), (1677.9579597004, -508.3941690041), (1671.9410743397, -486.8487583053), (1665.7177198175, -467.83674191), (1649.1998933253, -439.2536256087), (1634.1999227649, -421.562708125), (1613.0698619015, -400.6591813831), (1589.1685627804, -380.7252608429), (1557.0423204483, -363.1830020612), (1536.1277988232, -353.8141993641), (1525.8240908453, -349.1985834287)],
                knots=[0, 0, 0, 0, 0.081051955, 0.1602957558, 0.2519106034, 0.3416963197, 0.4533021966, 0.5495070786, 0.6552926651, 0.7658250708, 0.8846309118, 1, 1, 1, 1], degree=3))
            add(Edge.make_bspline(
                [(1525.8240908453, -349.1985834287), (1520.9143328422, -347.5504703014), (1510.6684952452, -344.1111359325), (1492.8886117624, -337.6810890182), (1477.3550772596, -332.523870949), (1460.6783442632, -329.5128503094), (1443.7541912337, -323.4528383744), (1426.4828431131, -321.7185781964), (1404.0685526248, -316.3773565932), (1367.3994007551, -309.7199117868), (1318.300808924, -300.555806637), (1266.860132466, -293.2995110363), (1195.8736917115, -285.0105688094), (1152.1833674352, -282.5005793352), (1096.6435090665, -276.740596233), (1042.2588720968, -271.2688958625), (1008.4323175903, -269.1078357614), (991.9508308241, -268.0548912929)],
                knots=[0, 0, 0, 0, 0.0459056837, 0.0957974262, 0.1423705621, 0.1895049005, 0.2379350442, 0.285260399, 0.3396724785, 0.4098119199, 0.4907159265, 0.5750621704, 0.6713772105, 0.7482917328, 0.8331639502, 0.9187116102, 1, 1, 1, 1], degree=3))
            add(Edge.make_bspline(
                [(991.9508308241, -268.0548912929), (945.3347618176, -265.7957839245), (840.6711361721, -260.7235765732), (597.3261368323, -257.3103678486), (496.8183550639, -257.0648734901), (410.7138135756, -259.321918476), (365.4399573872, -260.5086750434)],
                knots=[0, 0, 0, 0, 0.2514168302, 0.5644876875, 0.7710071796, 1, 1, 1, 1], degree=3))
            add(Edge.make_bspline(
                [(365.4399573872, -260.5086750434), (300.9920694953, -263.0136982066), (185.1527872494, -267.5162520485), (68.0175690605, -278.7245683622), (2.3104109186, -284.717121161), (-28.8509517839, -287.559065883)],
                knots=[0, 0, 0, 0, 0.3973459993, 0.7141936978, 1, 1, 1, 1], degree=3))
            add(Edge.make_bspline(
                [(-28.8509517839, -287.559065883), (-66.9724583954, -292.0378565849), (-140.8309261351, -300.7152843147), (-240.6082186036, -318.1610419925), (-325.5240634953, -330.8426582981), (-418.7926896131, -353.4732024197), (-475.2525690807, -366.2849740072), (-522.2780776943, -380.2815933471), (-567.7172627648, -394.0951954094), (-595.4583026837, -405.3379417837), (-609.1171294382, -410.8735210346)],
                knots=[0, 0, 0, 0, 0.15717668, 0.3045217721, 0.4423500794, 0.5860596972, 0.6983535216, 0.8003417202, 0.901694462, 1, 1, 1, 1], degree=3))
            add(Edge.make_bspline(
                [(-609.1171294382, -410.8735210346), (-619.9222350776, -414.000424116), (-641.0395332321, -420.1120940653), (-667.6634247297, -434.5818436421), (-691.7272271694, -444.0524227794), (-708.2455744872, -452.3285178789), (-714.7001253353, -457.4322308834), (-717.5893870815, -459.6860072659)],
                knots=[0, 0, 0, 0, 0.2401836949, 0.4696628644, 0.6819727863, 0.8590310206, 1, 1, 1, 1], degree=3))
            Line((-717.5893870815, -459.6860072659), (-717.5893870815, -474.7830293225))
            add(Edge.make_bspline(
                [(-609.1171294382, -425.9705430911), (-619.9222350776, -429.0974461726), (-641.0395332321, -435.2091161219), (-667.6634247297, -449.6788656987), (-691.7272271694, -459.149444836), (-708.2455744872, -467.4255399355), (-714.7001253353, -472.52925294), (-717.5893870815, -474.7830293225)],
                knots=[0, 0, 0, 0, 0.2401836949, 0.4696628644, 0.6819727863, 0.8590310206, 1, 1, 1, 1], degree=3))
            add(Edge.make_bspline(
                [(-28.8509517839, -302.6560879396), (-66.9724583954, -307.1348786415), (-140.8309261351, -315.8123063713), (-240.6082186036, -333.258064049), (-325.5240634953, -345.9396803546), (-418.7926896131, -368.5702244763), (-475.2525690807, -381.3819960638), (-522.2780776943, -395.3786154036), (-567.7172627648, -409.192217466), (-595.4583026837, -420.4349638403), (-609.1171294382, -425.9705430911)],
                knots=[0, 0, 0, 0, 0.15717668, 0.3045217721, 0.4423500794, 0.5860596972, 0.6983535216, 0.8003417202, 0.901694462, 1, 1, 1, 1], degree=3))
            add(Edge.make_bspline(
                [(365.4399573872, -275.6056971), (300.9920694953, -278.1107202632), (185.1527872494, -282.6132741051), (68.0175690605, -293.8215904187), (2.3104109186, -299.8141432176), (-28.8509517839, -302.6560879396)],
                knots=[0, 0, 0, 0, 0.3973459993, 0.7141936978, 1, 1, 1, 1], degree=3))
            add(Edge.make_bspline(
                [(991.9508308241, -283.1519133495), (945.3347618176, -280.892805981), (840.6711361721, -275.8205986297), (597.3261368323, -272.4073899052), (496.8183550639, -272.1618955467), (410.7138135756, -274.4189405325), (365.4399573872, -275.6056971)],
                knots=[0, 0, 0, 0, 0.2514168302, 0.5644876875, 0.7710071796, 1, 1, 1, 1], degree=3))
            add(Edge.make_bspline(
                [(1525.8240908453, -364.2956054853), (1520.9143328422, -362.647492358), (1510.6684952452, -359.208157989), (1492.8886117624, -352.7781110748), (1477.3550772596, -347.6208930056), (1460.6783442632, -344.609872366), (1443.7541912337, -338.549860431), (1426.4828431131, -336.815600253), (1404.0685526248, -331.4743786498), (1367.3994007551, -324.8169338434), (1318.300808924, -315.6528286936), (1266.860132466, -308.3965330929), (1195.8736917115, -300.107590866), (1152.1833674352, -297.5976013918), (1096.6435090665, -291.8376182896), (1042.2588720968, -286.3659179191), (1008.4323175903, -284.204857818), (991.9508308241, -283.1519133495)],
                knots=[0, 0, 0, 0, 0.0459056837, 0.0957974262, 0.1423705621, 0.1895049005, 0.2379350442, 0.285260399, 0.3396724785, 0.4098119199, 0.4907159265, 0.5750621704, 0.6713772105, 0.7482917328, 0.8331639502, 0.9187116102, 1, 1, 1, 1], degree=3))
        make_face()
    extrude(amount=F1_DEPTH)


solid = Compound([f1.part, f1b.part])
